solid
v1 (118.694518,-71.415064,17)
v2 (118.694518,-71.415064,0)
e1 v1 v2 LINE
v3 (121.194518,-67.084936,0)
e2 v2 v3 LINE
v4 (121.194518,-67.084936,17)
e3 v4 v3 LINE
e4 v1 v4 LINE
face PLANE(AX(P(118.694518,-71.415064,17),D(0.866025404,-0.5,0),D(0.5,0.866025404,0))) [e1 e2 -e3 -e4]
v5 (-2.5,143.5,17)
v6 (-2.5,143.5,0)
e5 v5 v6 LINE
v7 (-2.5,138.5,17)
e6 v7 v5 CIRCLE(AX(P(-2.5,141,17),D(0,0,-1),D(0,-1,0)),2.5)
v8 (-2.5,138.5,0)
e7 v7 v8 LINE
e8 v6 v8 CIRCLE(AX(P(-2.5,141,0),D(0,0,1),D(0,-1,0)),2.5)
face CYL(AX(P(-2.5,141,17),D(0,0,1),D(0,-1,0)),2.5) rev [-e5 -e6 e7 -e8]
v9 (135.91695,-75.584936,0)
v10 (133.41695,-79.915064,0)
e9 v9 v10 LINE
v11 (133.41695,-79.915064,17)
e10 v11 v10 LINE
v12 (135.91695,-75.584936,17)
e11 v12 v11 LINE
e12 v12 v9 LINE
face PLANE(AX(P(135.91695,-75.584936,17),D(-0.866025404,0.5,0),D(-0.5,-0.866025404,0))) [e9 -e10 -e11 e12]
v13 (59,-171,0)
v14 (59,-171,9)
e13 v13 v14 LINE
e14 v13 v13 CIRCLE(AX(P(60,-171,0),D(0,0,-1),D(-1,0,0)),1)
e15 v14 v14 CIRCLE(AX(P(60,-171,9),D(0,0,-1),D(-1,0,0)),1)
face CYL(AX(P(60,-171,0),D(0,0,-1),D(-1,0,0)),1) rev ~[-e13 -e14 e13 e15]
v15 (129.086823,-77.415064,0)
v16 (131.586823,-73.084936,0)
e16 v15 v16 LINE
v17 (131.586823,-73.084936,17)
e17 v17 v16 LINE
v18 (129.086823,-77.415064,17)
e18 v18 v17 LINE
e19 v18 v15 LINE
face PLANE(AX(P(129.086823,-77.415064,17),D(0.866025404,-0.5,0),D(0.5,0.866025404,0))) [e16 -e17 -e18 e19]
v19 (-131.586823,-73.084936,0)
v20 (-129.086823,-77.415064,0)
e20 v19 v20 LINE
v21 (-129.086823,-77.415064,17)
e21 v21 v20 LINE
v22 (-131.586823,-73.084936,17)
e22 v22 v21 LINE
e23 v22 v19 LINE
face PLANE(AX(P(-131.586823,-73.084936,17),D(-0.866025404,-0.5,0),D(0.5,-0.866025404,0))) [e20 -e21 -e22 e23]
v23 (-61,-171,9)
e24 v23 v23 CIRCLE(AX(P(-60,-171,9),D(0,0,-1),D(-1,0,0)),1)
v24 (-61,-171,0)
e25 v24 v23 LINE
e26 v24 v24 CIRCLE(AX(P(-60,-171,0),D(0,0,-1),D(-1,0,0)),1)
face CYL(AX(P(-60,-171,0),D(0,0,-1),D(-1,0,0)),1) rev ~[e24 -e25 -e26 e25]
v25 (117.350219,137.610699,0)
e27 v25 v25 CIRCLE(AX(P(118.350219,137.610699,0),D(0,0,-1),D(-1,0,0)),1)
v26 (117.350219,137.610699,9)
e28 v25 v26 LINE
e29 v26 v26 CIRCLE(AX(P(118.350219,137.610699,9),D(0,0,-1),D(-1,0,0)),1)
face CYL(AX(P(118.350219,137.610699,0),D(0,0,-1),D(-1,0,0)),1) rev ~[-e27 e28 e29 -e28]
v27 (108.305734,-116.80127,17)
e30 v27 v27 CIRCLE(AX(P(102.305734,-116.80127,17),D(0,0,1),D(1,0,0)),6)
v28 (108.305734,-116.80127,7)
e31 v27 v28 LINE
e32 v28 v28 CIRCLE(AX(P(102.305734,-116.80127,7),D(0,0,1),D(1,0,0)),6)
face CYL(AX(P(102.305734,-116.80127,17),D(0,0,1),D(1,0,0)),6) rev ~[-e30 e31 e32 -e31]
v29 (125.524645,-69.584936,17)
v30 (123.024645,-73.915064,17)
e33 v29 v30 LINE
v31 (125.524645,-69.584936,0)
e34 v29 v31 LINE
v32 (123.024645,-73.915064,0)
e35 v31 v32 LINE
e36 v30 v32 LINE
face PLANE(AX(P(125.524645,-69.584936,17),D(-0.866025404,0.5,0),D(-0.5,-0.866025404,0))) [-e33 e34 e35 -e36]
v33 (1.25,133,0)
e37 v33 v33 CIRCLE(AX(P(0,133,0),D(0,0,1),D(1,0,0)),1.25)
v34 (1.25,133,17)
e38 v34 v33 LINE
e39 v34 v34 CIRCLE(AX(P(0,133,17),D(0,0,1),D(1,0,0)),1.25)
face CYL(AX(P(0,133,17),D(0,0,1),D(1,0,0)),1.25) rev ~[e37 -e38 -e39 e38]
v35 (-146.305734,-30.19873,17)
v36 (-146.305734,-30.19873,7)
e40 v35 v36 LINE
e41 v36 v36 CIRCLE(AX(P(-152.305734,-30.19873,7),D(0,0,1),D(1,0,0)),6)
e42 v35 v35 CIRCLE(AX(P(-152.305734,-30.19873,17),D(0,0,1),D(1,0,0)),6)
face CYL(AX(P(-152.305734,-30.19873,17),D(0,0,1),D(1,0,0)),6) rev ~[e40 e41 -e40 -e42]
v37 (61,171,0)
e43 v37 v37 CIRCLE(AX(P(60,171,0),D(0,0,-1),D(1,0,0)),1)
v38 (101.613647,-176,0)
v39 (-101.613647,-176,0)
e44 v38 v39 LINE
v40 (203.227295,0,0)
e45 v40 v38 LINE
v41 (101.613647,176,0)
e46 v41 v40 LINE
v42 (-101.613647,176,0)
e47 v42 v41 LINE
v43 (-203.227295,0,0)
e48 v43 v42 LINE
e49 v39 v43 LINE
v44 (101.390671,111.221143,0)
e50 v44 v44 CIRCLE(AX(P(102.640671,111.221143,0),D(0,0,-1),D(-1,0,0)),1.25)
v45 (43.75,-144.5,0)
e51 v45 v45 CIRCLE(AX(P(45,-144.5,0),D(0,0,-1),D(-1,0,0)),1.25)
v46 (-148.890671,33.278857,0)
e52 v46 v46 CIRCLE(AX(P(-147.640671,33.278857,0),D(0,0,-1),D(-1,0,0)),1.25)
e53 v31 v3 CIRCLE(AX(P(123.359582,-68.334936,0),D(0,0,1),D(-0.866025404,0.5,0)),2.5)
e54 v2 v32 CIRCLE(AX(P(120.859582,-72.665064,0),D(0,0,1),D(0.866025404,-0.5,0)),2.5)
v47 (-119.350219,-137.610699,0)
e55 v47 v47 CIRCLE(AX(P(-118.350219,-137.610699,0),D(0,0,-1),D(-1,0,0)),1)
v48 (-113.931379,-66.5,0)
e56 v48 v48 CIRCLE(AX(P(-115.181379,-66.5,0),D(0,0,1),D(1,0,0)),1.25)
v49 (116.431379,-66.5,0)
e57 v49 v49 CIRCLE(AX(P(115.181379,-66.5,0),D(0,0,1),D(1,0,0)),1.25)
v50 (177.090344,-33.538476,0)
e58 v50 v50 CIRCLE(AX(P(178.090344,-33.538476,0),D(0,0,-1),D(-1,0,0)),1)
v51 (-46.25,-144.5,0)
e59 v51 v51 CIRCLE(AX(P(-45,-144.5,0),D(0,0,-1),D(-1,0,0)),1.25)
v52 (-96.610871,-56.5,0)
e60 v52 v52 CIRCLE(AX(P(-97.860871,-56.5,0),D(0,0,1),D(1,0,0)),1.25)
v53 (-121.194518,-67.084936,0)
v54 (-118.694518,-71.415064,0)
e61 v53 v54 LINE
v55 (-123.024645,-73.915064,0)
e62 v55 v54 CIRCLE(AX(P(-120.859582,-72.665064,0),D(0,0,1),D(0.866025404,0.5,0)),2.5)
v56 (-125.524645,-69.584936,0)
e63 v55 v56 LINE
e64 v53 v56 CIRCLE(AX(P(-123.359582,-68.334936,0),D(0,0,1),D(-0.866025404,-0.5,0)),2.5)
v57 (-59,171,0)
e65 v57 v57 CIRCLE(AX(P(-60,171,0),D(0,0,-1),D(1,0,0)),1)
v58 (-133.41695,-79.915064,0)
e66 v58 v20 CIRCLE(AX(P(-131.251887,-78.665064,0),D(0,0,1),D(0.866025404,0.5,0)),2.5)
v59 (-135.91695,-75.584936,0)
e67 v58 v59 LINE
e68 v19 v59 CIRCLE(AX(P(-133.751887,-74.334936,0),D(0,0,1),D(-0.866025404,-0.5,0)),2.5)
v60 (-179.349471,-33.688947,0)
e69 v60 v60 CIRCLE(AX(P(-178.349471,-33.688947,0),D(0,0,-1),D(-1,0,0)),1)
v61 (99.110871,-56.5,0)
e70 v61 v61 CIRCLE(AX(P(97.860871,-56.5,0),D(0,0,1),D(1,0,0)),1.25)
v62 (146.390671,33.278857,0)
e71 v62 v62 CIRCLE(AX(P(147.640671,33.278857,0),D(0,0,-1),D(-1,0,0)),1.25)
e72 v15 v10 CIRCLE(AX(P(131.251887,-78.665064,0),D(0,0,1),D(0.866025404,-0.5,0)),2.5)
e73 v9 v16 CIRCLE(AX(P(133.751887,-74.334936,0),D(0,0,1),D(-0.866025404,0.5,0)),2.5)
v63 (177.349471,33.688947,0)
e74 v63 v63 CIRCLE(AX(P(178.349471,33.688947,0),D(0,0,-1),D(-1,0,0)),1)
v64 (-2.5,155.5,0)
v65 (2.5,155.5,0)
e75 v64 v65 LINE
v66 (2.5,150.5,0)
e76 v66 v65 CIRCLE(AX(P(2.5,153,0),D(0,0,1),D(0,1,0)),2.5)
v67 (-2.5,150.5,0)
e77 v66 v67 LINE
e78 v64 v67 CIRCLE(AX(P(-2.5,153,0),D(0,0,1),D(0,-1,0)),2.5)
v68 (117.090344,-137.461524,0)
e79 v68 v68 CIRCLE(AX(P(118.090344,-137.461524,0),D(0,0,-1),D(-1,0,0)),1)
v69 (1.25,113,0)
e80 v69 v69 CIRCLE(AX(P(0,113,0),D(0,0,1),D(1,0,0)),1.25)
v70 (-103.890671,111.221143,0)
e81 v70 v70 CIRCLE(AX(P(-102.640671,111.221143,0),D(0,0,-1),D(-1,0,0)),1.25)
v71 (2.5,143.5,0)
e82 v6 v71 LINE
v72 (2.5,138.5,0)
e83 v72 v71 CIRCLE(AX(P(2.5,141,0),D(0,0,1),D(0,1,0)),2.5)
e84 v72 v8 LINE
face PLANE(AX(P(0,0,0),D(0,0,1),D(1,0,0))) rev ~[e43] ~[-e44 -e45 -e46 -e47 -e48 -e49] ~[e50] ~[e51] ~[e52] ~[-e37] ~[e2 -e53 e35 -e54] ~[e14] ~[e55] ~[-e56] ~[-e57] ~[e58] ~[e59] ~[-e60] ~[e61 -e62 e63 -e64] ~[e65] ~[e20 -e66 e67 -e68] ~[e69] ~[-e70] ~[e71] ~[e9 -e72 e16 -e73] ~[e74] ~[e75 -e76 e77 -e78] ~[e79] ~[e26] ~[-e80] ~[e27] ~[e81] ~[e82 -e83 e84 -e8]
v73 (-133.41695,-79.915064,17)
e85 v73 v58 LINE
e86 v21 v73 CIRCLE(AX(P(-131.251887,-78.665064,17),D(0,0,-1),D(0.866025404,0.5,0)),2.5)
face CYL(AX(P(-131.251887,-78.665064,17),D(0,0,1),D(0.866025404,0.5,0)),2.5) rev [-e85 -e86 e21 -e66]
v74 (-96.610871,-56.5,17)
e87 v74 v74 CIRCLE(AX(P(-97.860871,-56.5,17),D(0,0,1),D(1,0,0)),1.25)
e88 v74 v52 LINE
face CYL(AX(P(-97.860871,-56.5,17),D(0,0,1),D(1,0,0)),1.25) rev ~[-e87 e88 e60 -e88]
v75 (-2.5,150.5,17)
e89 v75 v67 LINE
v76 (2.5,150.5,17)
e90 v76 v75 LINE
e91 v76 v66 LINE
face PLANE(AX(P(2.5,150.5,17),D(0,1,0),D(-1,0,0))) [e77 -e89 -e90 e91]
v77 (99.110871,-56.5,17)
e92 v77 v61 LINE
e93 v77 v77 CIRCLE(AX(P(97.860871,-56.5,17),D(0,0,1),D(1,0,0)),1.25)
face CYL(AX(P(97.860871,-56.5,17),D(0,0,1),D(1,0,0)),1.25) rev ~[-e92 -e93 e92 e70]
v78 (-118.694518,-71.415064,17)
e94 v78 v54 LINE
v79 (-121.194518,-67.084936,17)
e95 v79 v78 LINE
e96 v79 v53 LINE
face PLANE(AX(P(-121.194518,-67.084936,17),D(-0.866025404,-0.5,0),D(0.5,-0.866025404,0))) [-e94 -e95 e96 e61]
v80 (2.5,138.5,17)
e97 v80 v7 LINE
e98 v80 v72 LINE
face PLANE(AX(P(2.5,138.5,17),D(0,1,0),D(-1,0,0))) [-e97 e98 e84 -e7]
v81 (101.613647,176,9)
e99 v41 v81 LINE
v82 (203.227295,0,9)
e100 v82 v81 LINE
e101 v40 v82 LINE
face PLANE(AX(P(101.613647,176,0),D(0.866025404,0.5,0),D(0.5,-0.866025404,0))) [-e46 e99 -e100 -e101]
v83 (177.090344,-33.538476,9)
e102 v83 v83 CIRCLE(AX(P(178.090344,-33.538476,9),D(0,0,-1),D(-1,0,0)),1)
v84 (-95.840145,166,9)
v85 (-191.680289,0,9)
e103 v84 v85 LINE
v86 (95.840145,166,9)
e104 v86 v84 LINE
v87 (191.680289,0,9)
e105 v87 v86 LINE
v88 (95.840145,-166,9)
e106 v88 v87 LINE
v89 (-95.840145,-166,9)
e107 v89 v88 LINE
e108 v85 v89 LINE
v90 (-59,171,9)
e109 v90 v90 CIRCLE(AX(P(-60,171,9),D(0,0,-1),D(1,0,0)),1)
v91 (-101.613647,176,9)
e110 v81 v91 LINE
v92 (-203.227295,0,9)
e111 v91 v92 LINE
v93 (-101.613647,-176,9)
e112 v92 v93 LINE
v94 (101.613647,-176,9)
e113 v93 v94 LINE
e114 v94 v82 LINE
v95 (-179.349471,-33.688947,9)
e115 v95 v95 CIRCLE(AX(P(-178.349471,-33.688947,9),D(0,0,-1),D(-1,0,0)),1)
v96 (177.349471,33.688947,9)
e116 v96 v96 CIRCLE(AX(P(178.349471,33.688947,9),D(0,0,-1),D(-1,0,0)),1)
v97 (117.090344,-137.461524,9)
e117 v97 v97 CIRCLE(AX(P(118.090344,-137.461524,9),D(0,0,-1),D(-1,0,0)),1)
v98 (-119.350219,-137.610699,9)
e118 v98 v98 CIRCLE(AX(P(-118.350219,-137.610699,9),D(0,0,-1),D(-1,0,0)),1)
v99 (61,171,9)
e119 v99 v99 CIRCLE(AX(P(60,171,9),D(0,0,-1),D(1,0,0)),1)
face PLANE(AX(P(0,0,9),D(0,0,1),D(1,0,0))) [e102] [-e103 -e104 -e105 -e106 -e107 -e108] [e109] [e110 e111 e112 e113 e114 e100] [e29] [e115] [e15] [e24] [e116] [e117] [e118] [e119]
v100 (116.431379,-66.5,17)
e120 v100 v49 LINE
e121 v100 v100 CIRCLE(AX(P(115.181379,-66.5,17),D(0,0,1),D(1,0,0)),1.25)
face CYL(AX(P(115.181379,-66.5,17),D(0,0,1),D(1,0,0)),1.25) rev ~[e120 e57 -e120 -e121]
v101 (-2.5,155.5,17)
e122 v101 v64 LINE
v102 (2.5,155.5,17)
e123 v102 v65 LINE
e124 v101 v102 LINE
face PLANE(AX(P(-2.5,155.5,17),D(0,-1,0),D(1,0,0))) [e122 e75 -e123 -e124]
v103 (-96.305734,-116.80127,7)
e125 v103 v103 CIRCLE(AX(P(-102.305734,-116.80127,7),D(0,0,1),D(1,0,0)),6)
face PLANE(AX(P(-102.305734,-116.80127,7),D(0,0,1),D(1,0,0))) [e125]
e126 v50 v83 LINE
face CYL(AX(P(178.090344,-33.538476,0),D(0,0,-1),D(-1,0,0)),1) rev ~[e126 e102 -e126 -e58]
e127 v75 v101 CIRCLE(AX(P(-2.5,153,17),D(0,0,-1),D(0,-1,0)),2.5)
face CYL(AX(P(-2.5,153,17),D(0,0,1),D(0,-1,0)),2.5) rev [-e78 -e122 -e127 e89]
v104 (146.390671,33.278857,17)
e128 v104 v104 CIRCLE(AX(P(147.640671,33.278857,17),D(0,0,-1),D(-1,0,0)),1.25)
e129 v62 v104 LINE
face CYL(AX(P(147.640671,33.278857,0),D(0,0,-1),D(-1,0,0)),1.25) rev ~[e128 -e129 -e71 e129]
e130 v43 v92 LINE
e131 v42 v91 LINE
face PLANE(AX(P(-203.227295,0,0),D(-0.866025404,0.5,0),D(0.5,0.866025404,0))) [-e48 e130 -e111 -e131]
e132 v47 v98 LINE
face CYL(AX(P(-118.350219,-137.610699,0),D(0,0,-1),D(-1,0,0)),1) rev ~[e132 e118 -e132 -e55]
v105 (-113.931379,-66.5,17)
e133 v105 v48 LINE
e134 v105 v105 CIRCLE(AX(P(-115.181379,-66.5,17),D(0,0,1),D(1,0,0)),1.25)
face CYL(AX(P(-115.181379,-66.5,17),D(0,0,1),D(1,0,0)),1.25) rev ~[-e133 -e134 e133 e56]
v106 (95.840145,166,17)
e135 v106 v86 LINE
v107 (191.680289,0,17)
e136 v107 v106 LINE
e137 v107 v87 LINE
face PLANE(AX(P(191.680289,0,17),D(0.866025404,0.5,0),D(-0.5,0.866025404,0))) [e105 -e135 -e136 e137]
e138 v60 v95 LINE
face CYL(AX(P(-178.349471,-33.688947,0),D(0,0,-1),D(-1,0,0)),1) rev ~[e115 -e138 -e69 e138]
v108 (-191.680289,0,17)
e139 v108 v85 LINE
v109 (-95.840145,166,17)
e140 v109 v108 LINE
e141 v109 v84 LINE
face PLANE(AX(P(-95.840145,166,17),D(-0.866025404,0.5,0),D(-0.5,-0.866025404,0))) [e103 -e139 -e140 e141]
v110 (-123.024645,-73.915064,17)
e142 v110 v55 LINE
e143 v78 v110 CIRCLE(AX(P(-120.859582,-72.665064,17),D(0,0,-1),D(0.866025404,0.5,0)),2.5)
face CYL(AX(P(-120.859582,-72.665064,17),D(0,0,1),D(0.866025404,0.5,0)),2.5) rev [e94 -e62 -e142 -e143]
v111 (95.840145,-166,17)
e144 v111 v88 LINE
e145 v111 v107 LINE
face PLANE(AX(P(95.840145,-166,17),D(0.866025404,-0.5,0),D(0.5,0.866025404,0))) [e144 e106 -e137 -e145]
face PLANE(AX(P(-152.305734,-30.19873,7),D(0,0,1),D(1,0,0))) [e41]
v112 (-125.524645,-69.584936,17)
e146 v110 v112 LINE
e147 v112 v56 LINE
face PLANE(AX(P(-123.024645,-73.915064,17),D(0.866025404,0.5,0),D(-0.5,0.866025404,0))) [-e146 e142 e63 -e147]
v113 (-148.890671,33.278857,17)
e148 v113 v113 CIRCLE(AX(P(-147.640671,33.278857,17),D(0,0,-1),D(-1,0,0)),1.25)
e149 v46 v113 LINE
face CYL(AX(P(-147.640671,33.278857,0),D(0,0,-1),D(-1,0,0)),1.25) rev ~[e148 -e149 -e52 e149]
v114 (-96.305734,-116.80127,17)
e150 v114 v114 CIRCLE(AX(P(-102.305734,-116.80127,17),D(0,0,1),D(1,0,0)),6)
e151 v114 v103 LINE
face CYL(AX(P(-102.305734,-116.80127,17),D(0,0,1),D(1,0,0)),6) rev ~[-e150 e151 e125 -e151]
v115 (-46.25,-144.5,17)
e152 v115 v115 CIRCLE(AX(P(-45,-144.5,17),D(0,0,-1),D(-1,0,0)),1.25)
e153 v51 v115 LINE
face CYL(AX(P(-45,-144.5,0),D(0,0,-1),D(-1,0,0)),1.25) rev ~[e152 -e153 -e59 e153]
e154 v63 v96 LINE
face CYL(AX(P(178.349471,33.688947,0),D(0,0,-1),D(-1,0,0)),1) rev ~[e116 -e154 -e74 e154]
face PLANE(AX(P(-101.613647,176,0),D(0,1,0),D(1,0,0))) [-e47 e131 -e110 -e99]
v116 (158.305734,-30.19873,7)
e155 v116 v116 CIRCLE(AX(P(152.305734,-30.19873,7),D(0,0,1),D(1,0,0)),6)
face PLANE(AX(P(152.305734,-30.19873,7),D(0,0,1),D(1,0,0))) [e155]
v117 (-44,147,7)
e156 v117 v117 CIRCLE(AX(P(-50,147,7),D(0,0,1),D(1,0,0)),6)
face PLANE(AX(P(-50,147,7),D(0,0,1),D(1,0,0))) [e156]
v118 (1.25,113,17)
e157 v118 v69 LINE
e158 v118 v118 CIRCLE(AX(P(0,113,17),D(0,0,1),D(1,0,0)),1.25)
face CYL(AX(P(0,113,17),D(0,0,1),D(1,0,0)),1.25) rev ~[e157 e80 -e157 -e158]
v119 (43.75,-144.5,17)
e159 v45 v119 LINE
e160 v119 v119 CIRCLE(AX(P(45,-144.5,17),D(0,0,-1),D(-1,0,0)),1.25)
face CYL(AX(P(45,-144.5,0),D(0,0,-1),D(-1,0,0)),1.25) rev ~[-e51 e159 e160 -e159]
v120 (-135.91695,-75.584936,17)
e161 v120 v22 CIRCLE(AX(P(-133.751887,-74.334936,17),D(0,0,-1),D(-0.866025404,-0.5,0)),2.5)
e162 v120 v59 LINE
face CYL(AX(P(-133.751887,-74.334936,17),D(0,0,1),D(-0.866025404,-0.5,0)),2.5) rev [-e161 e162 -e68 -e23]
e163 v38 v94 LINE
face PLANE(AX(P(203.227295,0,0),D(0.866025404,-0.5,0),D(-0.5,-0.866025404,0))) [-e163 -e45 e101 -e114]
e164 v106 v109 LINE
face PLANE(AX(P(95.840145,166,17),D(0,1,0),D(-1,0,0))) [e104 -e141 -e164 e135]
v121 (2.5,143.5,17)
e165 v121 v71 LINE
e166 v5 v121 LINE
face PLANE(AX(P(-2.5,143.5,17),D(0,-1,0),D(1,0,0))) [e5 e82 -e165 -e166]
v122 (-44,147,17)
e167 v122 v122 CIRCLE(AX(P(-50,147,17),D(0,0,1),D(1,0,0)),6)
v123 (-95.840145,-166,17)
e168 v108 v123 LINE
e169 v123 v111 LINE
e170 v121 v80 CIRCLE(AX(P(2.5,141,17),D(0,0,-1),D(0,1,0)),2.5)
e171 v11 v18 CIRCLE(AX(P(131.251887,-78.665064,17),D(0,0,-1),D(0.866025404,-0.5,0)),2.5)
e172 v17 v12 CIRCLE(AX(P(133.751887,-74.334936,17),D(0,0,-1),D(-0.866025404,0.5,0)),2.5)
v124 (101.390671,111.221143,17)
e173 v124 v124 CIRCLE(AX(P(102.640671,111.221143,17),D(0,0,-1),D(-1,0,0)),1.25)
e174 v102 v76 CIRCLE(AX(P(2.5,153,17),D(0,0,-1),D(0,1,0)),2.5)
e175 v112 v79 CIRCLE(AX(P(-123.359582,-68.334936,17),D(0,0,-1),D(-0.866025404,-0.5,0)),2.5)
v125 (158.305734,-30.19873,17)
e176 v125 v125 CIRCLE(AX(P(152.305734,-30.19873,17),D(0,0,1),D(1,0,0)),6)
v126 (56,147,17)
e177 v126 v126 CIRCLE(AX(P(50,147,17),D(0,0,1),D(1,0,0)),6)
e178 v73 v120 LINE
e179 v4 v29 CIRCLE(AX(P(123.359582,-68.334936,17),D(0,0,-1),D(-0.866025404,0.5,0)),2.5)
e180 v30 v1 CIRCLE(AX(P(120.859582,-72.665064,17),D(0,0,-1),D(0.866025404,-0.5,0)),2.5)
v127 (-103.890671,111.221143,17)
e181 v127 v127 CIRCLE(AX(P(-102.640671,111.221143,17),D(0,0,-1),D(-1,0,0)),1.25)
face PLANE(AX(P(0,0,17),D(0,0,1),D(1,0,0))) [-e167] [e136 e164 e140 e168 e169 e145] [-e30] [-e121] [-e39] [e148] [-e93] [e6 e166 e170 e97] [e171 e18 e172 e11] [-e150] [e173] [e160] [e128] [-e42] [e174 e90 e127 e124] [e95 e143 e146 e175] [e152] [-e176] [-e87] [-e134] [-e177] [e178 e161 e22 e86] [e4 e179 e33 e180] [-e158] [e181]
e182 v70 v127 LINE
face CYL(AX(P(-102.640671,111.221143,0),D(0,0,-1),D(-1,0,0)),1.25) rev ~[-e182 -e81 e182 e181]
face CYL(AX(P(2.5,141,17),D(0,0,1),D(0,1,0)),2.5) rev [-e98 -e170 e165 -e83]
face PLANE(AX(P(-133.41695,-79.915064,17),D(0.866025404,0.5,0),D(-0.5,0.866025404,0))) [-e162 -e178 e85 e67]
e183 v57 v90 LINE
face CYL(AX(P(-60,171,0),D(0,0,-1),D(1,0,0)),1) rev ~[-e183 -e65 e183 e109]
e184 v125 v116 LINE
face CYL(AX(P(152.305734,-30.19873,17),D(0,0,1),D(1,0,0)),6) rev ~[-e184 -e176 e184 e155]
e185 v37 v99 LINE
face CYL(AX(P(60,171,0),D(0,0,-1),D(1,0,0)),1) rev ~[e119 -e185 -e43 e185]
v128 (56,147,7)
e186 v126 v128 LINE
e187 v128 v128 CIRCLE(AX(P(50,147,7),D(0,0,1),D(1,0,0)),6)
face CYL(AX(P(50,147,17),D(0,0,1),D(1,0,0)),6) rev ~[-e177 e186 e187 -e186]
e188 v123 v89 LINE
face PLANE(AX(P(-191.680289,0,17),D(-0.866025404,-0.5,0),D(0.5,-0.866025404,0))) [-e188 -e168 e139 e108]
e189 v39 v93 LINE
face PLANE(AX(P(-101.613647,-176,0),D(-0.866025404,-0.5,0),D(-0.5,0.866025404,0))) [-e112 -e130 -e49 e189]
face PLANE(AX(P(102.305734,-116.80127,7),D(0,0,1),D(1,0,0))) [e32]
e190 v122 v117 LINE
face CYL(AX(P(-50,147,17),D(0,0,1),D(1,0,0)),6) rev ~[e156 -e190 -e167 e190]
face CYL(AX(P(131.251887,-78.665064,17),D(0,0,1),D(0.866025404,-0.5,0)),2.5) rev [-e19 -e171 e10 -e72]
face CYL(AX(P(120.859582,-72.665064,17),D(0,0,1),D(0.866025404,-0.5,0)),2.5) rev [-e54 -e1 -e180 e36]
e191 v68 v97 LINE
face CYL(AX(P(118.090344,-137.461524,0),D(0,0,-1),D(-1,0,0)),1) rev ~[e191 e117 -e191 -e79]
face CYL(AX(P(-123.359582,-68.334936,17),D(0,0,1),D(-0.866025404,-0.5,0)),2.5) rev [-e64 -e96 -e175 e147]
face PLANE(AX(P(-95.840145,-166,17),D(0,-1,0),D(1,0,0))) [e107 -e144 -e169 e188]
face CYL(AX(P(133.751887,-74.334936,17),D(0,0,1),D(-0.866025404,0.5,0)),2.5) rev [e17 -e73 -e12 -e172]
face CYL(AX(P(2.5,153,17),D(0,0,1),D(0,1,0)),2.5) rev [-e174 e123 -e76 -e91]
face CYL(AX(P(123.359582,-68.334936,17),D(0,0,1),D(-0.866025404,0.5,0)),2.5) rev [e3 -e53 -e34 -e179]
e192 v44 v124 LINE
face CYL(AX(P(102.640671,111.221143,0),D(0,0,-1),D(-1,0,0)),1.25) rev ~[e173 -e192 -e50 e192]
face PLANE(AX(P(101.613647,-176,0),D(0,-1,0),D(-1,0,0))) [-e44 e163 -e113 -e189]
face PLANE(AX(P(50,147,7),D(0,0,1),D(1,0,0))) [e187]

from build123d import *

# Parameters (mm, degrees)
BOSS_EXTRUDE1_DEPTH = 17
SKETCH3_R           = 6
CUT_EXTRUDE1_DEPTH  = 10
SKETCH4_OUTSIDE_W   = 536.486
SKETCH4_OUTSIDE_H   = 479.866
CUT_EXTRUDE2_DEPTH  = 8
SKETCH5_R           = 1.25
CUT_EXTRUDE3_DEPTH  = 281.053566305
SKETCH7_R           = 1.25
CUT_EXTRUDE5_DEPTH  = 281.053566305
CUT_EXTRUDE6_DEPTH  = 281.053566305
SKETCH9_R           = 1
CUT_EXTRUDE7_DEPTH  = 270.381390102


with BuildPart() as part:
    # Sketch1 → Boss-Extrude1 (new body)
    with BuildSketch(Plane.XY):
        Polygon((105.655099262, 183), (-105.655099262, 183), (-211.310198523, 0), (-105.655099262, -183), (105.655099262, -183), (211.310198523, 0), align=None)
    extrude(amount=BOSS_EXTRUDE1_DEPTH)

    # Sketch3 → Cut-Extrude1 (cut)
    with BuildSketch(Plane.XY.offset(17)):
        with Locations((50, 147)):
            Circle(SKETCH3_R)
        with Locations((-50, 147)):
            Circle(SKETCH3_R)
        with Locations((-152.305734356, -30.198729811)):
            Circle(SKETCH3_R)
        with Locations((-102.305734356, -116.801270189)):
            Circle(SKETCH3_R)
        with Locations((102.305734356, -116.801270189)):
            Circle(SKETCH3_R)
        with Locations((152.305734356, -30.198729811)):
            Circle(SKETCH3_R)
    extrude(amount=-CUT_EXTRUDE1_DEPTH, mode=Mode.SUBTRACT)

    # Sketch4 outside → Cut-Extrude2 (cut)
    with BuildSketch(Plane.XY.offset(17)):
        Rectangle(SKETCH4_OUTSIDE_W, SKETCH4_OUTSIDE_H)
        Polygon((191.680289371, 0), (95.840144685, 166), (-95.840144685, 166), (-191.680289371, 0), (-95.840144685, -166), (95.840144685, -166), align=None, mode=Mode.SUBTRACT)
    extrude(amount=-CUT_EXTRUDE2_DEPTH, mode=Mode.SUBTRACT)

    # Sketch5 → Cut-Extrude3 (cut, through all)
    with BuildSketch(Plane.XY.offset(17)):
        with Locations((115.181378703, -66.5)):
            Circle(SKETCH5_R)
        with Locations((97.860870628, -56.5)):
            Circle(SKETCH5_R)
        with Locations((-115.181378703, -66.5)):
            Circle(SKETCH5_R)
        with Locations((-97.860870628, -56.5)):
            Circle(SKETCH5_R)
        with Locations((0, 133)):
            Circle(SKETCH5_R)
        with Locations((0, 113)):
            Circle(SKETCH5_R)
        with BuildLine():
            Line((-121.194518424, -67.084936491), (-118.694518424, -71.415063509))
            ThreePointArc((-118.694518424, -71.415063509), (-119.609581934, -74.830127019), (-123.024645443, -73.915063509))
            Line((-123.024645443, -73.915063509), (-125.524645443, -69.584936491))
            ThreePointArc((-125.524645443, -69.584936491), (-124.609581934, -66.169872981), (-121.194518424, -67.084936491))
        make_face()
        with BuildLine():
            Line((-131.58682327, -73.084936491), (-129.08682327, -77.415063509))
            ThreePointArc((-129.08682327, -77.415063509), (-130.001886779, -80.830127019), (-133.416950288, -79.915063509))
            Line((-133.416950288, -79.915063509), (-135.916950288, -75.584936491))
            ThreePointArc((-135.916950288, -75.584936491), (-135.001886779, -72.169872981), (-131.58682327, -73.084936491))
        make_face()
        with BuildLine():
            Line((118.694518424, -71.415063509), (121.194518424, -67.084936491))
            ThreePointArc((121.194518424, -67.084936491), (124.609581934, -66.169872981), (125.524645443, -69.584936491))
            Line((125.524645443, -69.584936491), (123.024645443, -73.915063509))
            ThreePointArc((123.024645443, -73.915063509), (119.609581934, -74.830127019), (118.694518424, -71.415063509))
        make_face()
        with BuildLine():
            Line((129.08682327, -77.415063509), (131.58682327, -73.084936491))
            ThreePointArc((131.58682327, -73.084936491), (135.001886779, -72.169872981), (135.916950288, -75.584936491))
            Line((135.916950288, -75.584936491), (133.416950288, -79.915063509))
            ThreePointArc((133.416950288, -79.915063509), (130.001886779, -80.830127019), (129.08682327, -77.415063509))
        make_face()
        with BuildLine():
            Line((2.5, 138.5), (-2.5, 138.5))
            ThreePointArc((-2.5, 138.5), (-5, 141), (-2.5, 143.5))
            Line((-2.5, 143.5), (2.5, 143.5))
            ThreePointArc((2.5, 143.5), (5, 141), (2.5, 138.5))
        make_face()
        with BuildLine():
            Line((2.5, 150.5), (-2.5, 150.5))
            ThreePointArc((-2.5, 150.5), (-5, 153), (-2.5, 155.5))
            Line((-2.5, 155.5), (2.5, 155.5))
            ThreePointArc((2.5, 155.5), (5, 153), (2.5, 150.5))
        make_face()
    extrude(amount=-CUT_EXTRUDE3_DEPTH, mode=Mode.SUBTRACT)

    # Sketch7 → Cut-Extrude5 (cut, through all)
    with BuildSketch(Plane(origin=(0, 0, 0), x_dir=(-1, 0, 0), z_dir=(0, 0, -1))):
        with Locations((147.640670847, 33.27885683)):
            Circle(SKETCH7_R)
        with Locations((102.640670847, 111.22114317)):
            Circle(SKETCH7_R)
        with Locations((45, -144.5)):
            Circle(SKETCH7_R)
        with Locations((-45, -144.5)):
            Circle(SKETCH7_R)
        with Locations((-147.640670847, 33.27885683)):
            Circle(SKETCH7_R)
        with Locations((-102.640670847, 111.22114317)):
            Circle(SKETCH7_R)
    extrude(amount=-CUT_EXTRUDE5_DEPTH, mode=Mode.SUBTRACT)

    # Sketch8 → Cut-Extrude6 (cut, through all)
    with BuildSketch(Plane(origin=(0, 0, 0), x_dir=(-1, 0, 0), z_dir=(0, 0, -1))):
        Polygon((105.655099262, 183), (-105.655099262, 183), (-211.310198523, 0), (-105.655099262, -183), (105.655099262, -183), (211.310198523, 0), align=None)
        Polygon((101.613647377, 176), (-101.613647377, 176), (-203.227294755, 0), (-101.613647377, -176), (101.613647377, -176), (203.227294755, 0), align=None, mode=Mode.SUBTRACT)
    extrude(amount=-CUT_EXTRUDE6_DEPTH, mode=Mode.SUBTRACT)

    # Sketch9 → Cut-Extrude7 (cut, through all)
    with BuildSketch(Plane(origin=(0, 0, 0), x_dir=(-1, 0, 0), z_dir=(0, 0, -1))):
        with Locations((-118.35021945, 137.610699371)):
            Circle(SKETCH9_R)
        with Locations((-178.349471213, 33.688946902)):
            Circle(SKETCH9_R)
        with Locations((-178.090344047, -33.538475773)):
            Circle(SKETCH9_R)
        with Locations((-118.090344047, -137.461524227)):
            Circle(SKETCH9_R)
        with Locations((-60, -171)):
            Circle(SKETCH9_R)
        with Locations((60, -171)):
            Circle(SKETCH9_R)
        with Locations((118.35021945, -137.610699371)):
            Circle(SKETCH9_R)
        with Locations((178.349471213, -33.688946902)):
            Circle(SKETCH9_R)
        with Locations(Location((60, 171, 0), (0, 0, 180))):
            Circle(SKETCH9_R)
        with Locations(Location((-60, 171, 0), (0, 0, 180))):
            Circle(SKETCH9_R)
    extrude(amount=-CUT_EXTRUDE7_DEPTH, mode=Mode.SUBTRACT)


solid = part.part
